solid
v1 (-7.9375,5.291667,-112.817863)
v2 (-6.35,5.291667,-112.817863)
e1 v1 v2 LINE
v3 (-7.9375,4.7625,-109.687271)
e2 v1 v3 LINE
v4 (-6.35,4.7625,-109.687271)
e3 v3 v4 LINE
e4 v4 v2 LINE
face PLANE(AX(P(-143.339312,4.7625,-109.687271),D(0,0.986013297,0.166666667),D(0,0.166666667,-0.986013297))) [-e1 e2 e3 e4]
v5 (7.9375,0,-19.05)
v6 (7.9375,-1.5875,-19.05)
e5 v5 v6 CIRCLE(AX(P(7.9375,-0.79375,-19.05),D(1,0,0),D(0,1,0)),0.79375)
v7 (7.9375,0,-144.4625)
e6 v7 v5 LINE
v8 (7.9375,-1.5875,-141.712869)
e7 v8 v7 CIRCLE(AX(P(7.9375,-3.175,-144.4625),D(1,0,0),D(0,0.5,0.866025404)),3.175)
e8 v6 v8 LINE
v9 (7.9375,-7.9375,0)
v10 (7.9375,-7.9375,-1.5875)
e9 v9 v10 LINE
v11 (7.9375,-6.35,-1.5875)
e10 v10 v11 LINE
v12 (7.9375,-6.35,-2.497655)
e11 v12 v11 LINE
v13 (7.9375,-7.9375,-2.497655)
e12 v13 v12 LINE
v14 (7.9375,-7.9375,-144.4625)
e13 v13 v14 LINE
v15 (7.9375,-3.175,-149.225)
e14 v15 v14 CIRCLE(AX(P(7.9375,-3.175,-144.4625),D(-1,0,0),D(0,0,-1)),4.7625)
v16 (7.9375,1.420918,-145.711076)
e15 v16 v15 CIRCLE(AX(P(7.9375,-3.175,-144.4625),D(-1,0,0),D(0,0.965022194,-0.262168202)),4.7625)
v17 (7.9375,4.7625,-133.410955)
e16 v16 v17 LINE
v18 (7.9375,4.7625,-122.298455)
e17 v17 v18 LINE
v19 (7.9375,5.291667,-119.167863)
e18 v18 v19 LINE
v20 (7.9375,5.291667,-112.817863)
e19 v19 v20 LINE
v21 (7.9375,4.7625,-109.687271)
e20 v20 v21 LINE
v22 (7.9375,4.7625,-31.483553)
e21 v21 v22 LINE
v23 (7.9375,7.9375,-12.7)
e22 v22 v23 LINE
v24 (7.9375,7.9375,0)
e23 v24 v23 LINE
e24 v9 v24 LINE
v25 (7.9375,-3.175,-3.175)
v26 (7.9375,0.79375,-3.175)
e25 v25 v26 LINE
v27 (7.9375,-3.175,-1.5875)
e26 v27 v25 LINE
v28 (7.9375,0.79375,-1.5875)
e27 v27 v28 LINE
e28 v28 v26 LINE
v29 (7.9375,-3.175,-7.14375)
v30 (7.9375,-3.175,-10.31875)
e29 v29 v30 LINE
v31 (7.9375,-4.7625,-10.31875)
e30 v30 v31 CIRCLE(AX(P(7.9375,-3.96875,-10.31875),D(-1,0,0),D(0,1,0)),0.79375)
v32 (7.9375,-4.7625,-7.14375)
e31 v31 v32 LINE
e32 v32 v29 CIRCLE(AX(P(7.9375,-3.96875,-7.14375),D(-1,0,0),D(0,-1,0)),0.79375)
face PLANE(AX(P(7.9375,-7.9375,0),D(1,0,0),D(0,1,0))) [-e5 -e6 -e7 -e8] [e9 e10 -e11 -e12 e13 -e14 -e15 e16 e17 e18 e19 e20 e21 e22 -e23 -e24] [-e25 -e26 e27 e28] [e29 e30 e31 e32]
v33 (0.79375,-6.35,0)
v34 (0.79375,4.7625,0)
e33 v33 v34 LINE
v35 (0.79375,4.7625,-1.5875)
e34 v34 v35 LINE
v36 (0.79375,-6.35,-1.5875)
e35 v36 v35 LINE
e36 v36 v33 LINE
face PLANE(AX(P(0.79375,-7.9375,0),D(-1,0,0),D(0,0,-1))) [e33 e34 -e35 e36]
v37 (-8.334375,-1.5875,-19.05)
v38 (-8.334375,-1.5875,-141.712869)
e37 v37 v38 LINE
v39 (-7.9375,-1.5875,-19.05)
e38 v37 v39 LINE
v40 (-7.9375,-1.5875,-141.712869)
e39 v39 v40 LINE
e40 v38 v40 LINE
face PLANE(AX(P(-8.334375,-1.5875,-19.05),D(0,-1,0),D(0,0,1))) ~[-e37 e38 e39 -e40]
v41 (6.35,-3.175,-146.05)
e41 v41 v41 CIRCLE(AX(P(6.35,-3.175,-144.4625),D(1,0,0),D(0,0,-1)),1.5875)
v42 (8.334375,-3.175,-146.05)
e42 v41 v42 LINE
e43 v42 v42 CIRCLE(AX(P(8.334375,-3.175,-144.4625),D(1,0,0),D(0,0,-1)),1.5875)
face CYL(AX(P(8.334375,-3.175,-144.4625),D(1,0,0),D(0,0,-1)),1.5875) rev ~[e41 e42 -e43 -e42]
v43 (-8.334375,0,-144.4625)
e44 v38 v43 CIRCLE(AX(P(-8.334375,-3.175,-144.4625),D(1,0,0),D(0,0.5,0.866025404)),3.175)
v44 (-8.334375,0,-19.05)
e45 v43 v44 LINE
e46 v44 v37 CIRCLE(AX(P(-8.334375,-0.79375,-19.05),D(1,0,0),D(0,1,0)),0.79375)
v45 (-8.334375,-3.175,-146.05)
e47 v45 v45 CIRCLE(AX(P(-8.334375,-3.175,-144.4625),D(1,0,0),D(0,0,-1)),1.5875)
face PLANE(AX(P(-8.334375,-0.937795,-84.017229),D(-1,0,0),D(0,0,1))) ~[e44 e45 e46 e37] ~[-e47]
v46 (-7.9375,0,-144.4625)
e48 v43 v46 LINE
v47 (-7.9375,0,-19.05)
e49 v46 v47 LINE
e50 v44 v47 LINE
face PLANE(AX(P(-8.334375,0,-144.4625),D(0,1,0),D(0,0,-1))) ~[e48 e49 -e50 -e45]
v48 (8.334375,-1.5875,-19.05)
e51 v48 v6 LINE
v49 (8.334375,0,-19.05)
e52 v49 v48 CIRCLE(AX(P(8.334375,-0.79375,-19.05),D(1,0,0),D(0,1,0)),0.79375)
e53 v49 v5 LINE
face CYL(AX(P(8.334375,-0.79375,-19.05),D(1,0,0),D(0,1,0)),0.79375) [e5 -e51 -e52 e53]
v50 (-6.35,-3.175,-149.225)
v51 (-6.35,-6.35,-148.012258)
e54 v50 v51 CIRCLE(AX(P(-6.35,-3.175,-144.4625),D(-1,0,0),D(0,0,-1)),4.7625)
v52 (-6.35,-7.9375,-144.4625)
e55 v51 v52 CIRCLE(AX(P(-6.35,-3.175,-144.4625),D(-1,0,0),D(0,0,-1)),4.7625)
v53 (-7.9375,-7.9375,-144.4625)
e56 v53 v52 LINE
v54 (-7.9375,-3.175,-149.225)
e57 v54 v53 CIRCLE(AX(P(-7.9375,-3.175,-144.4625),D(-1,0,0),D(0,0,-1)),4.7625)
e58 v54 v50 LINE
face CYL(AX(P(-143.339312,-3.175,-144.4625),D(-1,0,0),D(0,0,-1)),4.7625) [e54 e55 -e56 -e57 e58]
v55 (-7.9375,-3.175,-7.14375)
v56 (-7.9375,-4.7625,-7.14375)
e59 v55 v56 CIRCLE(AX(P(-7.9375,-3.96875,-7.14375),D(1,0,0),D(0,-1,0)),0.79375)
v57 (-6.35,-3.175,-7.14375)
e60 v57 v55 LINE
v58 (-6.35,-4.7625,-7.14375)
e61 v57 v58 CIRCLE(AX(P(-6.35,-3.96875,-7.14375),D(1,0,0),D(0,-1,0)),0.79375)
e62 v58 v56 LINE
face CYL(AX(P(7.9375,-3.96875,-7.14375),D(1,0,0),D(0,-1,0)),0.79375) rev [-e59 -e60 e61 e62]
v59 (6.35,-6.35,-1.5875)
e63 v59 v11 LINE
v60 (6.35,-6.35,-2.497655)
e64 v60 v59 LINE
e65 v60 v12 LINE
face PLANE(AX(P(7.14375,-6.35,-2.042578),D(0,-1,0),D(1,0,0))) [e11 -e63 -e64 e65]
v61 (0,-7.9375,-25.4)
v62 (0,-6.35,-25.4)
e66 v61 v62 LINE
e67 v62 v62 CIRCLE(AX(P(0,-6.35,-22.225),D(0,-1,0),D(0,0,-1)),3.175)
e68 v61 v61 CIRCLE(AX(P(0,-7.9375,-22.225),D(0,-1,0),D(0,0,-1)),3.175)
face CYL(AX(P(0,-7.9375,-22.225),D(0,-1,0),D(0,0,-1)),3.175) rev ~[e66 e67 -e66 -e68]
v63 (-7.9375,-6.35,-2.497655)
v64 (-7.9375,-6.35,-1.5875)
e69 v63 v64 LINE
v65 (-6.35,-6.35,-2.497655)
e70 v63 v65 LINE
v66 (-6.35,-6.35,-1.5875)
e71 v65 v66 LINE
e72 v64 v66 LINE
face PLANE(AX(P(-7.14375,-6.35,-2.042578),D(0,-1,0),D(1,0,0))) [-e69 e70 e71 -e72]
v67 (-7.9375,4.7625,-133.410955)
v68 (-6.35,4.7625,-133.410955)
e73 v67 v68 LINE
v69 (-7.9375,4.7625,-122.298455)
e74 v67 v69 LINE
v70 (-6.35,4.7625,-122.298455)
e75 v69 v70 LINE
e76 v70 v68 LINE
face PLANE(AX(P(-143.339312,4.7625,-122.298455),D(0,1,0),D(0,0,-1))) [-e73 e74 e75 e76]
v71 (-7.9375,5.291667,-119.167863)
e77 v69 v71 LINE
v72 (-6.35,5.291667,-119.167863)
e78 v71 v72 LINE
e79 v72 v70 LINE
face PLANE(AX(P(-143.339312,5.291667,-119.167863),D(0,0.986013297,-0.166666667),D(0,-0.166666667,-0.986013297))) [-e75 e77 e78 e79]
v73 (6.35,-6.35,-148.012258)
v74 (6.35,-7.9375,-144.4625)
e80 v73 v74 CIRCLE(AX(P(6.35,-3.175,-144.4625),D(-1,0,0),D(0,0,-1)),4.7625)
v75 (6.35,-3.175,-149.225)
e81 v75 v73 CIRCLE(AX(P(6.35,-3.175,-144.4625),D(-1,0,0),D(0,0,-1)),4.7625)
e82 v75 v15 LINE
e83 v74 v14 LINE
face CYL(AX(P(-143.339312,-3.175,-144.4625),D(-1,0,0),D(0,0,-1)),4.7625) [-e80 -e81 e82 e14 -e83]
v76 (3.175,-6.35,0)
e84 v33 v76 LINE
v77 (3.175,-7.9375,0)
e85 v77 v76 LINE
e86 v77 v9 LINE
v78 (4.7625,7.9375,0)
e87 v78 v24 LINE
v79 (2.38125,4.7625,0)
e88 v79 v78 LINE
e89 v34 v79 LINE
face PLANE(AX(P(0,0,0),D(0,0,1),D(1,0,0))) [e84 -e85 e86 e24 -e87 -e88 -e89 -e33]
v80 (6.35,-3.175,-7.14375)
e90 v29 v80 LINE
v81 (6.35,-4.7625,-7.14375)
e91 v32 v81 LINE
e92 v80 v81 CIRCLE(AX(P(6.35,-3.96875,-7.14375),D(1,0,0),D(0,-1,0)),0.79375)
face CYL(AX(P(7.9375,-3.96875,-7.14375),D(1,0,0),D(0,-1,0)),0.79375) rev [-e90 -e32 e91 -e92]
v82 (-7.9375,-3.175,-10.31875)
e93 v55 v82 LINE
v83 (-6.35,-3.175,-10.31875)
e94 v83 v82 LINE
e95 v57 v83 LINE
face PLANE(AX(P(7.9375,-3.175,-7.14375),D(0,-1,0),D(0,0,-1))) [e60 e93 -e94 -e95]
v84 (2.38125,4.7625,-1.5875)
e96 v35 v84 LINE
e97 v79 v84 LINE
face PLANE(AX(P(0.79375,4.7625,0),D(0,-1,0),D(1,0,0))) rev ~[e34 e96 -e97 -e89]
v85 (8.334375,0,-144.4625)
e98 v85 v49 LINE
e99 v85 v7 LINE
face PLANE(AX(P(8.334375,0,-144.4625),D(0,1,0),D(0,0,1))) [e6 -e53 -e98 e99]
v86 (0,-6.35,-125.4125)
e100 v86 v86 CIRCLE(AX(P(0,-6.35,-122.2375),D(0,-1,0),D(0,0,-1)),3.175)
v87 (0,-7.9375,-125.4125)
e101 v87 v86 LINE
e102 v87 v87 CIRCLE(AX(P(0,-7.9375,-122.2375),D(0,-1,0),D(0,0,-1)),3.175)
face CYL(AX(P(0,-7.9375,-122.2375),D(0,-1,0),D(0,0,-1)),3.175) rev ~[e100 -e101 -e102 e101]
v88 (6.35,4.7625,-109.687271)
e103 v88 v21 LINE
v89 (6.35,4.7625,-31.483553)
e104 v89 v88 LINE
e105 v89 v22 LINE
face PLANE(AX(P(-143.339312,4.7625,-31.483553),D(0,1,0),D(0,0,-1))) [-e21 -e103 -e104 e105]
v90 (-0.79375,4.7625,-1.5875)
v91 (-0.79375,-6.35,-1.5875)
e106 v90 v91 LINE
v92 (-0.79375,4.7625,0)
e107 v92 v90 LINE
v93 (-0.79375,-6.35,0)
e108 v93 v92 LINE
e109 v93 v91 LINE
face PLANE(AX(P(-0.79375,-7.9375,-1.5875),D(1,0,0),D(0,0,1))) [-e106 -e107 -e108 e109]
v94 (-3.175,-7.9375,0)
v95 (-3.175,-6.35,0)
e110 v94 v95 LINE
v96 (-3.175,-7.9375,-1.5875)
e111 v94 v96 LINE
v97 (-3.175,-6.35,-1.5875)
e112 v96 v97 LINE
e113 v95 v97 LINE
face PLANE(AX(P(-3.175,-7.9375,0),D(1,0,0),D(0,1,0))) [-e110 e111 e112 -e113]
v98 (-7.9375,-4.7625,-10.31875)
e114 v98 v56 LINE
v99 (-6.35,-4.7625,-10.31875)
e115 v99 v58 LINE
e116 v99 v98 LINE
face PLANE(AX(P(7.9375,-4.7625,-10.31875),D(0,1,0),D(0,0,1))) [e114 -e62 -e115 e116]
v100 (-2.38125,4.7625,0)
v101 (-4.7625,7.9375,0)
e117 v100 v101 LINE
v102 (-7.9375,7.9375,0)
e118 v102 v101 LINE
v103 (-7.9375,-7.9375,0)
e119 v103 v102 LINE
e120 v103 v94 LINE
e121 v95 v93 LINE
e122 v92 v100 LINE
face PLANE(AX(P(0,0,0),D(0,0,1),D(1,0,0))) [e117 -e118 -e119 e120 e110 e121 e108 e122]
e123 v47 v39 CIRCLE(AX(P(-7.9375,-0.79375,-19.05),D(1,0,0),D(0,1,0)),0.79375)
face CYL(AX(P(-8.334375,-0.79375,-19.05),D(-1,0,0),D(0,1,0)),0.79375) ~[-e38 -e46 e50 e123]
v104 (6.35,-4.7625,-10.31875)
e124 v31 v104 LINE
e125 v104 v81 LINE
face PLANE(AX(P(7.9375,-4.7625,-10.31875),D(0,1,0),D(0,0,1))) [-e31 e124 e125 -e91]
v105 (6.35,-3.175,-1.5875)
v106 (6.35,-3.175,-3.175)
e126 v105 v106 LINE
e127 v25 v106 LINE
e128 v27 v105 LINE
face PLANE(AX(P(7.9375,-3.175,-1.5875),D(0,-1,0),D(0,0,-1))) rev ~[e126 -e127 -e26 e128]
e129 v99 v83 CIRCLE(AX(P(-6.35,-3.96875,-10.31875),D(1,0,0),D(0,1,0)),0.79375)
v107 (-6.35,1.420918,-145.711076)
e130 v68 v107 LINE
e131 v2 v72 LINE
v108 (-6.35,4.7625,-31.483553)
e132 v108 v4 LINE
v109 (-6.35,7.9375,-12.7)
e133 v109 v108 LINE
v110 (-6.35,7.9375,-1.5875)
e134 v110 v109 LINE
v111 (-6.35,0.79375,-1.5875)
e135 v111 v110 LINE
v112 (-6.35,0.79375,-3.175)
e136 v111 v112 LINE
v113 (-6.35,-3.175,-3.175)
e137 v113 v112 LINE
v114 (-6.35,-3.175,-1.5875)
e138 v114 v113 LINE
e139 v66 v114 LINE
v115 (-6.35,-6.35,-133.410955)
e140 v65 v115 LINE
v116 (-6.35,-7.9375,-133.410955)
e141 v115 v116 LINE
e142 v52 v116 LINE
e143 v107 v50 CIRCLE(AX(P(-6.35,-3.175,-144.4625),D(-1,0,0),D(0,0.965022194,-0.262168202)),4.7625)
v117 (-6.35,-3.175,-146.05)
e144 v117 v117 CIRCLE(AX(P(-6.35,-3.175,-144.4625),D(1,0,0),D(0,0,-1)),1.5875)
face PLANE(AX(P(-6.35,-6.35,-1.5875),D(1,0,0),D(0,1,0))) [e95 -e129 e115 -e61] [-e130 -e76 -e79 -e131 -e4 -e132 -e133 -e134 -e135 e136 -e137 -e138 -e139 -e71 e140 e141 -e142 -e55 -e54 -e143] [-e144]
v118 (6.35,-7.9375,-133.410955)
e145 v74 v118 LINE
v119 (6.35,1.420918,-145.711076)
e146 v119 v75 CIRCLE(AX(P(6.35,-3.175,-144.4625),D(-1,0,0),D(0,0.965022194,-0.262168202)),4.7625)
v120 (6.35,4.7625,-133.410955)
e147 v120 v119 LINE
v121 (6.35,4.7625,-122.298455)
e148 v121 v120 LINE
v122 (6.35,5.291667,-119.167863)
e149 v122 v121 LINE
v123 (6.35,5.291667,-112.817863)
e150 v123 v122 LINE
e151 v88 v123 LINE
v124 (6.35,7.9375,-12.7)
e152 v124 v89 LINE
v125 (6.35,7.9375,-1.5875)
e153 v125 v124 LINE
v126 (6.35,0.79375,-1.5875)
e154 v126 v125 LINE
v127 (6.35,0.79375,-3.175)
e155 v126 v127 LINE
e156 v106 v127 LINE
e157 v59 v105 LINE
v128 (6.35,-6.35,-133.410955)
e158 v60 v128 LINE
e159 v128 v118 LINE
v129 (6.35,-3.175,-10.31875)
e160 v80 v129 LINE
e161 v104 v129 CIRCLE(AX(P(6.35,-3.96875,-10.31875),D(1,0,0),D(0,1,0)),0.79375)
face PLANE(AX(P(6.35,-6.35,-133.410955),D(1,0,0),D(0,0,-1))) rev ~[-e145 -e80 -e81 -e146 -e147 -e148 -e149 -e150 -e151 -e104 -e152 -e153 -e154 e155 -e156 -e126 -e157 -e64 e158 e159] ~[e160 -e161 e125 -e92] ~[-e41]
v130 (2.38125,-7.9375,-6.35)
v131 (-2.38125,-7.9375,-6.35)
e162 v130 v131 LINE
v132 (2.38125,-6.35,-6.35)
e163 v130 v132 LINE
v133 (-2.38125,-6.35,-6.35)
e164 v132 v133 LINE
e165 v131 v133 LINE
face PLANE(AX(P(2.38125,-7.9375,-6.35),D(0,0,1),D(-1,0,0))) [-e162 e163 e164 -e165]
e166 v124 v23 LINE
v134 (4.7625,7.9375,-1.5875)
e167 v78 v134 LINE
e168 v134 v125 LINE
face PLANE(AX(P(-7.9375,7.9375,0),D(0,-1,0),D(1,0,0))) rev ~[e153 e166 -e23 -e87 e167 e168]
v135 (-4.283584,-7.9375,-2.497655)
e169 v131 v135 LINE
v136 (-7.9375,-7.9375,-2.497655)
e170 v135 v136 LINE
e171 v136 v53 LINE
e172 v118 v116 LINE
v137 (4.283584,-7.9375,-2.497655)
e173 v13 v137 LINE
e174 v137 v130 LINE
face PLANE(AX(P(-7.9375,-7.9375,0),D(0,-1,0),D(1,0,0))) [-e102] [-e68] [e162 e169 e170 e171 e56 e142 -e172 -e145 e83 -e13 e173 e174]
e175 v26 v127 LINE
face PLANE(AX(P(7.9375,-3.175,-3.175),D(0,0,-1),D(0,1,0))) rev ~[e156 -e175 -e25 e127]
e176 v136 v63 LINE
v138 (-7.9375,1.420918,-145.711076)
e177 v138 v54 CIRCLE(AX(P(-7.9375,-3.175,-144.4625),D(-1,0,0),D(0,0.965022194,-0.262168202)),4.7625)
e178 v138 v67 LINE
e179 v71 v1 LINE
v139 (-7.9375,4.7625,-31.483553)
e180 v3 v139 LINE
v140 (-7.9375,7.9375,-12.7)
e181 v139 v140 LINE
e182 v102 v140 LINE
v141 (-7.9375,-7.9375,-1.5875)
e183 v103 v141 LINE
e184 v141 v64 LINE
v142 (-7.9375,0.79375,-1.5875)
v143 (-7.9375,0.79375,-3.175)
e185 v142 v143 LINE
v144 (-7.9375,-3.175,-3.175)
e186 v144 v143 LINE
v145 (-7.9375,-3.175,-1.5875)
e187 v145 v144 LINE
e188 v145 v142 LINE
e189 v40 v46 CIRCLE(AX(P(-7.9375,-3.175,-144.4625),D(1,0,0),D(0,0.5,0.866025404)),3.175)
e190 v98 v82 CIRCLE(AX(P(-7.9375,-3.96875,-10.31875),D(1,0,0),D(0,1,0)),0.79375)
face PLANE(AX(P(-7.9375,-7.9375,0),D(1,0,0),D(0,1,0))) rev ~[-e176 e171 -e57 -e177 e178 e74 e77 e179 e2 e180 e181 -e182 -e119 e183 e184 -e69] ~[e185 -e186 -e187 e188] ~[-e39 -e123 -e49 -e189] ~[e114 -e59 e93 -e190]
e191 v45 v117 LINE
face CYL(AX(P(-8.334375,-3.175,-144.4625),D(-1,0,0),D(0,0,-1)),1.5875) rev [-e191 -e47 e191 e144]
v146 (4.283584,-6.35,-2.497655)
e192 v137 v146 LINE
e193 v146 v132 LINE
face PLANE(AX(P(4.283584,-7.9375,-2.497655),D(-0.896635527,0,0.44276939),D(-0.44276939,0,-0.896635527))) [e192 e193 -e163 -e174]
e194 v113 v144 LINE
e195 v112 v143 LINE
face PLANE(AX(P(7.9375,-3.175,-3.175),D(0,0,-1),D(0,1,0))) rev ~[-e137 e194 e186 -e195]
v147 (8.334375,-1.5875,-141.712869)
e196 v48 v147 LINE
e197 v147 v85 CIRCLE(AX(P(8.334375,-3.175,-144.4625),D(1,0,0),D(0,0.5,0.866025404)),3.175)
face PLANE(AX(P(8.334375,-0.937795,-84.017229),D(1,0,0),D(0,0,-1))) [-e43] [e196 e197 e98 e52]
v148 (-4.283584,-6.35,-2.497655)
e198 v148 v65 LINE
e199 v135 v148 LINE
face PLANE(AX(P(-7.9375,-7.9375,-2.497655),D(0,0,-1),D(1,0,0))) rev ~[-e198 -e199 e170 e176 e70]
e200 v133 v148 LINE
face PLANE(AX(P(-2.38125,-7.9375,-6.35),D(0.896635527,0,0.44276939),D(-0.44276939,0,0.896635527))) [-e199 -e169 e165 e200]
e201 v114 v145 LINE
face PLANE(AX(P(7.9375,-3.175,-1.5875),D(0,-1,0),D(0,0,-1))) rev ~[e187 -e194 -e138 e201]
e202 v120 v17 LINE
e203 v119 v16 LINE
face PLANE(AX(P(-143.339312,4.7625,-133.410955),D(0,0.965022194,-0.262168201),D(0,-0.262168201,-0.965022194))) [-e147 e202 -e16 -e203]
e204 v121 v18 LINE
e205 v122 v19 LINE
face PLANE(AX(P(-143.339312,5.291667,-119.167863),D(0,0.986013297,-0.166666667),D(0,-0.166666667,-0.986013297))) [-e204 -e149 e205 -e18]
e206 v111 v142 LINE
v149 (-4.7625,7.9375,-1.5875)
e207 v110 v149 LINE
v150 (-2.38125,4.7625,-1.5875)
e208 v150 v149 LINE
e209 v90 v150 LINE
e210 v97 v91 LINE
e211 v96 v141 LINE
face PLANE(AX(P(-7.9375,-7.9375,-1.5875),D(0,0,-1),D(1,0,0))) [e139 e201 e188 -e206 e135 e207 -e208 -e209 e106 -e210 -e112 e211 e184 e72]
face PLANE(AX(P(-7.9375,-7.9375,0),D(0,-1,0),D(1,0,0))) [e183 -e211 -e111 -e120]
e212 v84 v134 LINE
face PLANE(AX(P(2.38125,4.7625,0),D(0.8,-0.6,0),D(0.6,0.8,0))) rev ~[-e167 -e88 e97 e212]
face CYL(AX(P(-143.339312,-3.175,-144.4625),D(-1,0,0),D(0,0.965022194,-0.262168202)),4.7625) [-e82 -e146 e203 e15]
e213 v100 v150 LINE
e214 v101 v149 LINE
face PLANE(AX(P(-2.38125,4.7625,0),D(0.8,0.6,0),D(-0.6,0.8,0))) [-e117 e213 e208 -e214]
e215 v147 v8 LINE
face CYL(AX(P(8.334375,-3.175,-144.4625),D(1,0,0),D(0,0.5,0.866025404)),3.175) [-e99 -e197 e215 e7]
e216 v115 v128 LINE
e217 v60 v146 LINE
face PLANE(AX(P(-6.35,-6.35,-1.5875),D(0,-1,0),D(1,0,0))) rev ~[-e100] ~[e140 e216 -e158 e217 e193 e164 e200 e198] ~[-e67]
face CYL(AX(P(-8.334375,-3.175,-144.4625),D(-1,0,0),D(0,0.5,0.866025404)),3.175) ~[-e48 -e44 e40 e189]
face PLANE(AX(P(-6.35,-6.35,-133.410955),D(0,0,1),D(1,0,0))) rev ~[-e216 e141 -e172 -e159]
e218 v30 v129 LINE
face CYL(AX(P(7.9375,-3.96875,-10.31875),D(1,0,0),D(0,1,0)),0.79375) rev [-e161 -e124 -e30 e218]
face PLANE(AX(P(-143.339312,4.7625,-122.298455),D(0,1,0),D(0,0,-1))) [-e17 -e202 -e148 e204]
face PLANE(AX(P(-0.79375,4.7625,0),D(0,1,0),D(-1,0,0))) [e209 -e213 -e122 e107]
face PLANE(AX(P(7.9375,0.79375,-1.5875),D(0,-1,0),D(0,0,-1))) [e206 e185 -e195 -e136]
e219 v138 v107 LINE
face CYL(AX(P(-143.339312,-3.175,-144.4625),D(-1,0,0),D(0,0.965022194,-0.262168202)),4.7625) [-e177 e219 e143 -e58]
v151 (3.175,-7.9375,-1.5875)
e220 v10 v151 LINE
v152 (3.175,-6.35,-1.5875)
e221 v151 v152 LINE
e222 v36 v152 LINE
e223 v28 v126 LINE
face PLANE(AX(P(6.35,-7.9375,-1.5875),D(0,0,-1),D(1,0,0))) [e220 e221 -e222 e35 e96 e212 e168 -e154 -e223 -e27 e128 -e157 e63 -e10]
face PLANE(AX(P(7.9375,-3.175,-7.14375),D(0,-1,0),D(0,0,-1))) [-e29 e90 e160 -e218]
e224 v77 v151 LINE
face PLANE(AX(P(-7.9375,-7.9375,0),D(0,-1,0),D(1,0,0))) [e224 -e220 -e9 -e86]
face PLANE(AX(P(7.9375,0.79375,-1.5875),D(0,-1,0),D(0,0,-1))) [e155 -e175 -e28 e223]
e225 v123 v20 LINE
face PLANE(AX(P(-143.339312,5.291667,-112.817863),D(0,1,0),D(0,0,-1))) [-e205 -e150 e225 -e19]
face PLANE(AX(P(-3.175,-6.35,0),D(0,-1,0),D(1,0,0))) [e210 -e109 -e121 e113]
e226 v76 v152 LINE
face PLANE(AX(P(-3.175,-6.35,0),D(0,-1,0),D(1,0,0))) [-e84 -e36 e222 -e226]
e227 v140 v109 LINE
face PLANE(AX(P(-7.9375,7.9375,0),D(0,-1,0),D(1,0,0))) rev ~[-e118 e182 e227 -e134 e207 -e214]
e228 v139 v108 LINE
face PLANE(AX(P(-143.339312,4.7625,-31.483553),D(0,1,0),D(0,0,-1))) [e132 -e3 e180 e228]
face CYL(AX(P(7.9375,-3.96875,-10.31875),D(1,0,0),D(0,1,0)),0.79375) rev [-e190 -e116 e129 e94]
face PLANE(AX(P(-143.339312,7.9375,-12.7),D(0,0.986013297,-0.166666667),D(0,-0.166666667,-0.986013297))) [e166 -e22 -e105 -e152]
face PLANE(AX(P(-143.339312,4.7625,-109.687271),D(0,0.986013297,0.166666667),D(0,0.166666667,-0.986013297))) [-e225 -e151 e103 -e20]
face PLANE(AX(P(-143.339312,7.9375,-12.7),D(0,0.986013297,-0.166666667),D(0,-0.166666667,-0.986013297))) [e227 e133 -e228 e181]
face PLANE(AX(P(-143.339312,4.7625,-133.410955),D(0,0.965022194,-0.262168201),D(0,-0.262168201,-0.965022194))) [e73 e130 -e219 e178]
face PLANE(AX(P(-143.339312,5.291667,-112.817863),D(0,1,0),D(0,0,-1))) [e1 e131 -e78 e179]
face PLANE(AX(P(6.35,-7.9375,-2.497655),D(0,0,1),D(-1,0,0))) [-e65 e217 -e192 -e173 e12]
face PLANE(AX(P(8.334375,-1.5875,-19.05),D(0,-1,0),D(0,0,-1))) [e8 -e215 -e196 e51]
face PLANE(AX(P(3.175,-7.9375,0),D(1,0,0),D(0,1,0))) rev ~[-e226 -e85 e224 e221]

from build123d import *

# Parameters (mm, degrees)
SKETCH1_W               = 15.875
SKETCH1_H               = 15.875
BOSS_EXTRUDE1_DEPTH     = 149.225
CUT_EXTRUDE1_DEPTH      = 151.276811772
CUT_EXTRUDE1_DEPTH_BACK = 151.276811772
CUT_EXTRUDE2_START      = -1.5875
SKETCH4_W               = 12.7
SKETCH4_H               = 14.2875
CUT_EXTRUDE2_DEPTH      = 149.225
CUT_EXTRUDE4_DEPTH      = 151.276811772
SKETCH6_W               = 6.35
SKETCH6_H               = 1.5875
CUT_EXTRUDE5_DEPTH      = 1.5875
SKETCH7_W               = 1.5875
SKETCH7_H               = 0.910155424
CUT_EXTRUDE6_DEPTH      = 1.5875
SKETCH8_R               = 1.5875
SKETCH8_W               = 1.5875
SKETCH8_H               = 3.96875
CUT_EXTRUDE7_DEPTH      = 151.276811772
SKETCH9_R               = 3.175
CUT_EXTRUDE8_DEPTH      = 151.276811772
BOSS_EXTRUDE2_START     = 0.396875
SKETCH10_R              = 1.5875
BOSS_EXTRUDE2_DEPTH     = 0.396875
SKETCH11_W              = 12.7
SKETCH11_H              = 14.601302857
CUT_EXTRUDE9_DEPTH      = 2.54


with BuildPart() as part:
    # Sketch1 → Boss-Extrude1 (new body)
    with BuildSketch(Plane.XY):
        Rectangle(SKETCH1_W, SKETCH1_H)
    extrude(amount=-BOSS_EXTRUDE1_DEPTH)

    # Sketch2 → Cut-Extrude1 (cut, two sides: drawn at the far end of the back side and taken through both)
    with BuildSketch(Plane(origin=(7.9375, 0, 0), x_dir=(0, 0, -1), z_dir=(1, 0, 0)).offset(-CUT_EXTRUDE1_DEPTH_BACK)):
        with BuildLine():
            Line((149.225, 7.9375), (12.7, 7.9375))
            Line((12.7, 7.9375), (31.483553311, 4.7625))
            Line((31.483553311, 4.7625), (109.68727062, 4.7625))
            Line((109.68727062, 4.7625), (112.817862839, 5.291666667))
            Line((112.817862839, 5.291666667), (119.167862839, 5.291666667))
            Line((119.167862839, 5.291666667), (122.298455057, 4.7625))
            Line((122.298455057, 4.7625), (133.410955057, 4.7625))
            Line((133.410955057, 4.7625), (145.71107606, 1.420918197))
            ThreePointArc((145.71107606, 1.420918197), (148.245868191, -0.282331443), (149.225, -3.175))
            Line((149.225, -3.175), (149.225, 7.9375))
        make_face()
        with BuildLine():
            Line((149.225, -7.9375), (149.225, -3.175))
            ThreePointArc((149.225, -3.175), (147.830096045, -6.542596045), (144.4625, -7.9375))
            Line((144.4625, -7.9375), (149.225, -7.9375))
        make_face()
    extrude(amount=CUT_EXTRUDE1_DEPTH + CUT_EXTRUDE1_DEPTH_BACK, mode=Mode.SUBTRACT)

    # Sketch4 → Cut-Extrude2 (cut)
    with BuildSketch(Plane.XY.offset(CUT_EXTRUDE2_START)):
        with Locations((0, 0.79375)):
            Rectangle(SKETCH4_W, SKETCH4_H)
    extrude(amount=-CUT_EXTRUDE2_DEPTH, mode=Mode.SUBTRACT)

    # Sketch5 → Cut-Extrude4 (cut, through all)
    with BuildSketch(Plane.XZ.offset(7.9375)):
        Polygon((2.38125, -6.35), (-2.38125, -6.35), (-4.283584011, -2.497655424), (-6.35, -2.497655424), (-6.35, -1.5875), (-0.79375, -1.5875), (-0.79375, 0), (0.79375, 0), (0.79375, -1.5875), (6.35, -1.5875), (6.35, -2.497655424), (4.283584011, -2.497655424), align=None)
    extrude(amount=-CUT_EXTRUDE4_DEPTH, mode=Mode.SUBTRACT)

    # Sketch6 → Cut-Extrude5 (cut)
    with BuildSketch(Plane.XY):
        Polygon((0.79375, 4.7625), (2.38125, 4.7625), (4.7625, 7.9375), (0.79375, 7.9375), align=None)
        Polygon((-0.79375, 4.7625), (-2.38125, 4.7625), (-4.7625, 7.9375), (-0.79375, 7.9375), align=None)
        with Locations((0, -7.14375)):
            Rectangle(SKETCH6_W, SKETCH6_H)
    extrude(amount=-CUT_EXTRUDE5_DEPTH, mode=Mode.SUBTRACT)

    # Sketch7 → Cut-Extrude6 (cut)
    with BuildSketch(Plane.XZ.offset(7.9375)):
        with Locations((7.14375, -2.042577712)):
            Rectangle(SKETCH7_W, SKETCH7_H)
        with Locations((-7.14375, -2.042577712)):
            Rectangle(SKETCH7_W, SKETCH7_H)
    extrude(amount=-CUT_EXTRUDE6_DEPTH, mode=Mode.SUBTRACT)

    # Sketch8 → Cut-Extrude7 (cut, through all)
    with BuildSketch(Plane(origin=(7.9375, 0, 0), x_dir=(0, 0, -1), z_dir=(1, 0, 0))):
        with Locations((144.4625, -3.175)):
            Circle(SKETCH8_R)
        with Locations((2.38125, -1.190625)):
            Rectangle(SKETCH8_W, SKETCH8_H)
        with BuildLine():
            Line((7.14375, -3.175), (10.31875, -3.175))
            ThreePointArc((10.31875, -3.175), (11.1125, -3.96875), (10.31875, -4.7625))
            Line((10.31875, -4.7625), (7.14375, -4.7625))
            ThreePointArc((7.14375, -4.7625), (6.35, -3.96875), (7.14375, -3.175))
        make_face()
    extrude(amount=-CUT_EXTRUDE7_DEPTH, mode=Mode.SUBTRACT)

    # Sketch9 → Cut-Extrude8 (cut, through all)
    with BuildSketch(Plane.XZ.offset(7.9375)):
        with Locations(Location((0, -22.225, 0), (0, 0, 270))):
            Circle(SKETCH9_R)
        with Locations(Location((0, -122.2375, 0), (0, 0, 270))):
            Circle(SKETCH9_R)
    extrude(amount=-CUT_EXTRUDE8_DEPTH, mode=Mode.SUBTRACT)

    # Sketch10 → Boss-Extrude2 (add)
    with BuildSketch(Plane(origin=(7.9375, 0, 0), x_dir=(0, 0, -1), z_dir=(1, 0, 0)).offset(BOSS_EXTRUDE2_START)):
        with BuildLine():
            Line((144.4625, 0), (19.05, 0))
            ThreePointArc((19.05, 0), (18.25625, -0.79375), (19.05, -1.5875))
            Line((19.05, -1.5875), (141.712869343, -1.5875))
            ThreePointArc((141.712869343, -1.5875), (146.05, -5.924630657), (144.4625, 0))
        make_face()
        with Locations((144.4625, -3.175)):
            Circle(SKETCH10_R, mode=Mode.SUBTRACT)
    boss_extrude2 = extrude(amount=-BOSS_EXTRUDE2_DEPTH)

    # Mirror1: Boss-Extrude2 across plane
    add(boss_extrude2.mirror(Plane(origin=(0, 0, 0), x_dir=(0, 0, 1), z_dir=(1, 0, 0))))

    # Sketch11 → Cut-Extrude9 (cut)
    with BuildSketch(Plane(origin=(0, -6.35, 0), x_dir=(1, 0, 0), z_dir=(0, 1, 0))):
        with Locations((0, 140.711606485)):
            Rectangle(SKETCH11_W, SKETCH11_H)
    extrude(amount=-CUT_EXTRUDE9_DEPTH, mode=Mode.SUBTRACT)


solid = part.part
